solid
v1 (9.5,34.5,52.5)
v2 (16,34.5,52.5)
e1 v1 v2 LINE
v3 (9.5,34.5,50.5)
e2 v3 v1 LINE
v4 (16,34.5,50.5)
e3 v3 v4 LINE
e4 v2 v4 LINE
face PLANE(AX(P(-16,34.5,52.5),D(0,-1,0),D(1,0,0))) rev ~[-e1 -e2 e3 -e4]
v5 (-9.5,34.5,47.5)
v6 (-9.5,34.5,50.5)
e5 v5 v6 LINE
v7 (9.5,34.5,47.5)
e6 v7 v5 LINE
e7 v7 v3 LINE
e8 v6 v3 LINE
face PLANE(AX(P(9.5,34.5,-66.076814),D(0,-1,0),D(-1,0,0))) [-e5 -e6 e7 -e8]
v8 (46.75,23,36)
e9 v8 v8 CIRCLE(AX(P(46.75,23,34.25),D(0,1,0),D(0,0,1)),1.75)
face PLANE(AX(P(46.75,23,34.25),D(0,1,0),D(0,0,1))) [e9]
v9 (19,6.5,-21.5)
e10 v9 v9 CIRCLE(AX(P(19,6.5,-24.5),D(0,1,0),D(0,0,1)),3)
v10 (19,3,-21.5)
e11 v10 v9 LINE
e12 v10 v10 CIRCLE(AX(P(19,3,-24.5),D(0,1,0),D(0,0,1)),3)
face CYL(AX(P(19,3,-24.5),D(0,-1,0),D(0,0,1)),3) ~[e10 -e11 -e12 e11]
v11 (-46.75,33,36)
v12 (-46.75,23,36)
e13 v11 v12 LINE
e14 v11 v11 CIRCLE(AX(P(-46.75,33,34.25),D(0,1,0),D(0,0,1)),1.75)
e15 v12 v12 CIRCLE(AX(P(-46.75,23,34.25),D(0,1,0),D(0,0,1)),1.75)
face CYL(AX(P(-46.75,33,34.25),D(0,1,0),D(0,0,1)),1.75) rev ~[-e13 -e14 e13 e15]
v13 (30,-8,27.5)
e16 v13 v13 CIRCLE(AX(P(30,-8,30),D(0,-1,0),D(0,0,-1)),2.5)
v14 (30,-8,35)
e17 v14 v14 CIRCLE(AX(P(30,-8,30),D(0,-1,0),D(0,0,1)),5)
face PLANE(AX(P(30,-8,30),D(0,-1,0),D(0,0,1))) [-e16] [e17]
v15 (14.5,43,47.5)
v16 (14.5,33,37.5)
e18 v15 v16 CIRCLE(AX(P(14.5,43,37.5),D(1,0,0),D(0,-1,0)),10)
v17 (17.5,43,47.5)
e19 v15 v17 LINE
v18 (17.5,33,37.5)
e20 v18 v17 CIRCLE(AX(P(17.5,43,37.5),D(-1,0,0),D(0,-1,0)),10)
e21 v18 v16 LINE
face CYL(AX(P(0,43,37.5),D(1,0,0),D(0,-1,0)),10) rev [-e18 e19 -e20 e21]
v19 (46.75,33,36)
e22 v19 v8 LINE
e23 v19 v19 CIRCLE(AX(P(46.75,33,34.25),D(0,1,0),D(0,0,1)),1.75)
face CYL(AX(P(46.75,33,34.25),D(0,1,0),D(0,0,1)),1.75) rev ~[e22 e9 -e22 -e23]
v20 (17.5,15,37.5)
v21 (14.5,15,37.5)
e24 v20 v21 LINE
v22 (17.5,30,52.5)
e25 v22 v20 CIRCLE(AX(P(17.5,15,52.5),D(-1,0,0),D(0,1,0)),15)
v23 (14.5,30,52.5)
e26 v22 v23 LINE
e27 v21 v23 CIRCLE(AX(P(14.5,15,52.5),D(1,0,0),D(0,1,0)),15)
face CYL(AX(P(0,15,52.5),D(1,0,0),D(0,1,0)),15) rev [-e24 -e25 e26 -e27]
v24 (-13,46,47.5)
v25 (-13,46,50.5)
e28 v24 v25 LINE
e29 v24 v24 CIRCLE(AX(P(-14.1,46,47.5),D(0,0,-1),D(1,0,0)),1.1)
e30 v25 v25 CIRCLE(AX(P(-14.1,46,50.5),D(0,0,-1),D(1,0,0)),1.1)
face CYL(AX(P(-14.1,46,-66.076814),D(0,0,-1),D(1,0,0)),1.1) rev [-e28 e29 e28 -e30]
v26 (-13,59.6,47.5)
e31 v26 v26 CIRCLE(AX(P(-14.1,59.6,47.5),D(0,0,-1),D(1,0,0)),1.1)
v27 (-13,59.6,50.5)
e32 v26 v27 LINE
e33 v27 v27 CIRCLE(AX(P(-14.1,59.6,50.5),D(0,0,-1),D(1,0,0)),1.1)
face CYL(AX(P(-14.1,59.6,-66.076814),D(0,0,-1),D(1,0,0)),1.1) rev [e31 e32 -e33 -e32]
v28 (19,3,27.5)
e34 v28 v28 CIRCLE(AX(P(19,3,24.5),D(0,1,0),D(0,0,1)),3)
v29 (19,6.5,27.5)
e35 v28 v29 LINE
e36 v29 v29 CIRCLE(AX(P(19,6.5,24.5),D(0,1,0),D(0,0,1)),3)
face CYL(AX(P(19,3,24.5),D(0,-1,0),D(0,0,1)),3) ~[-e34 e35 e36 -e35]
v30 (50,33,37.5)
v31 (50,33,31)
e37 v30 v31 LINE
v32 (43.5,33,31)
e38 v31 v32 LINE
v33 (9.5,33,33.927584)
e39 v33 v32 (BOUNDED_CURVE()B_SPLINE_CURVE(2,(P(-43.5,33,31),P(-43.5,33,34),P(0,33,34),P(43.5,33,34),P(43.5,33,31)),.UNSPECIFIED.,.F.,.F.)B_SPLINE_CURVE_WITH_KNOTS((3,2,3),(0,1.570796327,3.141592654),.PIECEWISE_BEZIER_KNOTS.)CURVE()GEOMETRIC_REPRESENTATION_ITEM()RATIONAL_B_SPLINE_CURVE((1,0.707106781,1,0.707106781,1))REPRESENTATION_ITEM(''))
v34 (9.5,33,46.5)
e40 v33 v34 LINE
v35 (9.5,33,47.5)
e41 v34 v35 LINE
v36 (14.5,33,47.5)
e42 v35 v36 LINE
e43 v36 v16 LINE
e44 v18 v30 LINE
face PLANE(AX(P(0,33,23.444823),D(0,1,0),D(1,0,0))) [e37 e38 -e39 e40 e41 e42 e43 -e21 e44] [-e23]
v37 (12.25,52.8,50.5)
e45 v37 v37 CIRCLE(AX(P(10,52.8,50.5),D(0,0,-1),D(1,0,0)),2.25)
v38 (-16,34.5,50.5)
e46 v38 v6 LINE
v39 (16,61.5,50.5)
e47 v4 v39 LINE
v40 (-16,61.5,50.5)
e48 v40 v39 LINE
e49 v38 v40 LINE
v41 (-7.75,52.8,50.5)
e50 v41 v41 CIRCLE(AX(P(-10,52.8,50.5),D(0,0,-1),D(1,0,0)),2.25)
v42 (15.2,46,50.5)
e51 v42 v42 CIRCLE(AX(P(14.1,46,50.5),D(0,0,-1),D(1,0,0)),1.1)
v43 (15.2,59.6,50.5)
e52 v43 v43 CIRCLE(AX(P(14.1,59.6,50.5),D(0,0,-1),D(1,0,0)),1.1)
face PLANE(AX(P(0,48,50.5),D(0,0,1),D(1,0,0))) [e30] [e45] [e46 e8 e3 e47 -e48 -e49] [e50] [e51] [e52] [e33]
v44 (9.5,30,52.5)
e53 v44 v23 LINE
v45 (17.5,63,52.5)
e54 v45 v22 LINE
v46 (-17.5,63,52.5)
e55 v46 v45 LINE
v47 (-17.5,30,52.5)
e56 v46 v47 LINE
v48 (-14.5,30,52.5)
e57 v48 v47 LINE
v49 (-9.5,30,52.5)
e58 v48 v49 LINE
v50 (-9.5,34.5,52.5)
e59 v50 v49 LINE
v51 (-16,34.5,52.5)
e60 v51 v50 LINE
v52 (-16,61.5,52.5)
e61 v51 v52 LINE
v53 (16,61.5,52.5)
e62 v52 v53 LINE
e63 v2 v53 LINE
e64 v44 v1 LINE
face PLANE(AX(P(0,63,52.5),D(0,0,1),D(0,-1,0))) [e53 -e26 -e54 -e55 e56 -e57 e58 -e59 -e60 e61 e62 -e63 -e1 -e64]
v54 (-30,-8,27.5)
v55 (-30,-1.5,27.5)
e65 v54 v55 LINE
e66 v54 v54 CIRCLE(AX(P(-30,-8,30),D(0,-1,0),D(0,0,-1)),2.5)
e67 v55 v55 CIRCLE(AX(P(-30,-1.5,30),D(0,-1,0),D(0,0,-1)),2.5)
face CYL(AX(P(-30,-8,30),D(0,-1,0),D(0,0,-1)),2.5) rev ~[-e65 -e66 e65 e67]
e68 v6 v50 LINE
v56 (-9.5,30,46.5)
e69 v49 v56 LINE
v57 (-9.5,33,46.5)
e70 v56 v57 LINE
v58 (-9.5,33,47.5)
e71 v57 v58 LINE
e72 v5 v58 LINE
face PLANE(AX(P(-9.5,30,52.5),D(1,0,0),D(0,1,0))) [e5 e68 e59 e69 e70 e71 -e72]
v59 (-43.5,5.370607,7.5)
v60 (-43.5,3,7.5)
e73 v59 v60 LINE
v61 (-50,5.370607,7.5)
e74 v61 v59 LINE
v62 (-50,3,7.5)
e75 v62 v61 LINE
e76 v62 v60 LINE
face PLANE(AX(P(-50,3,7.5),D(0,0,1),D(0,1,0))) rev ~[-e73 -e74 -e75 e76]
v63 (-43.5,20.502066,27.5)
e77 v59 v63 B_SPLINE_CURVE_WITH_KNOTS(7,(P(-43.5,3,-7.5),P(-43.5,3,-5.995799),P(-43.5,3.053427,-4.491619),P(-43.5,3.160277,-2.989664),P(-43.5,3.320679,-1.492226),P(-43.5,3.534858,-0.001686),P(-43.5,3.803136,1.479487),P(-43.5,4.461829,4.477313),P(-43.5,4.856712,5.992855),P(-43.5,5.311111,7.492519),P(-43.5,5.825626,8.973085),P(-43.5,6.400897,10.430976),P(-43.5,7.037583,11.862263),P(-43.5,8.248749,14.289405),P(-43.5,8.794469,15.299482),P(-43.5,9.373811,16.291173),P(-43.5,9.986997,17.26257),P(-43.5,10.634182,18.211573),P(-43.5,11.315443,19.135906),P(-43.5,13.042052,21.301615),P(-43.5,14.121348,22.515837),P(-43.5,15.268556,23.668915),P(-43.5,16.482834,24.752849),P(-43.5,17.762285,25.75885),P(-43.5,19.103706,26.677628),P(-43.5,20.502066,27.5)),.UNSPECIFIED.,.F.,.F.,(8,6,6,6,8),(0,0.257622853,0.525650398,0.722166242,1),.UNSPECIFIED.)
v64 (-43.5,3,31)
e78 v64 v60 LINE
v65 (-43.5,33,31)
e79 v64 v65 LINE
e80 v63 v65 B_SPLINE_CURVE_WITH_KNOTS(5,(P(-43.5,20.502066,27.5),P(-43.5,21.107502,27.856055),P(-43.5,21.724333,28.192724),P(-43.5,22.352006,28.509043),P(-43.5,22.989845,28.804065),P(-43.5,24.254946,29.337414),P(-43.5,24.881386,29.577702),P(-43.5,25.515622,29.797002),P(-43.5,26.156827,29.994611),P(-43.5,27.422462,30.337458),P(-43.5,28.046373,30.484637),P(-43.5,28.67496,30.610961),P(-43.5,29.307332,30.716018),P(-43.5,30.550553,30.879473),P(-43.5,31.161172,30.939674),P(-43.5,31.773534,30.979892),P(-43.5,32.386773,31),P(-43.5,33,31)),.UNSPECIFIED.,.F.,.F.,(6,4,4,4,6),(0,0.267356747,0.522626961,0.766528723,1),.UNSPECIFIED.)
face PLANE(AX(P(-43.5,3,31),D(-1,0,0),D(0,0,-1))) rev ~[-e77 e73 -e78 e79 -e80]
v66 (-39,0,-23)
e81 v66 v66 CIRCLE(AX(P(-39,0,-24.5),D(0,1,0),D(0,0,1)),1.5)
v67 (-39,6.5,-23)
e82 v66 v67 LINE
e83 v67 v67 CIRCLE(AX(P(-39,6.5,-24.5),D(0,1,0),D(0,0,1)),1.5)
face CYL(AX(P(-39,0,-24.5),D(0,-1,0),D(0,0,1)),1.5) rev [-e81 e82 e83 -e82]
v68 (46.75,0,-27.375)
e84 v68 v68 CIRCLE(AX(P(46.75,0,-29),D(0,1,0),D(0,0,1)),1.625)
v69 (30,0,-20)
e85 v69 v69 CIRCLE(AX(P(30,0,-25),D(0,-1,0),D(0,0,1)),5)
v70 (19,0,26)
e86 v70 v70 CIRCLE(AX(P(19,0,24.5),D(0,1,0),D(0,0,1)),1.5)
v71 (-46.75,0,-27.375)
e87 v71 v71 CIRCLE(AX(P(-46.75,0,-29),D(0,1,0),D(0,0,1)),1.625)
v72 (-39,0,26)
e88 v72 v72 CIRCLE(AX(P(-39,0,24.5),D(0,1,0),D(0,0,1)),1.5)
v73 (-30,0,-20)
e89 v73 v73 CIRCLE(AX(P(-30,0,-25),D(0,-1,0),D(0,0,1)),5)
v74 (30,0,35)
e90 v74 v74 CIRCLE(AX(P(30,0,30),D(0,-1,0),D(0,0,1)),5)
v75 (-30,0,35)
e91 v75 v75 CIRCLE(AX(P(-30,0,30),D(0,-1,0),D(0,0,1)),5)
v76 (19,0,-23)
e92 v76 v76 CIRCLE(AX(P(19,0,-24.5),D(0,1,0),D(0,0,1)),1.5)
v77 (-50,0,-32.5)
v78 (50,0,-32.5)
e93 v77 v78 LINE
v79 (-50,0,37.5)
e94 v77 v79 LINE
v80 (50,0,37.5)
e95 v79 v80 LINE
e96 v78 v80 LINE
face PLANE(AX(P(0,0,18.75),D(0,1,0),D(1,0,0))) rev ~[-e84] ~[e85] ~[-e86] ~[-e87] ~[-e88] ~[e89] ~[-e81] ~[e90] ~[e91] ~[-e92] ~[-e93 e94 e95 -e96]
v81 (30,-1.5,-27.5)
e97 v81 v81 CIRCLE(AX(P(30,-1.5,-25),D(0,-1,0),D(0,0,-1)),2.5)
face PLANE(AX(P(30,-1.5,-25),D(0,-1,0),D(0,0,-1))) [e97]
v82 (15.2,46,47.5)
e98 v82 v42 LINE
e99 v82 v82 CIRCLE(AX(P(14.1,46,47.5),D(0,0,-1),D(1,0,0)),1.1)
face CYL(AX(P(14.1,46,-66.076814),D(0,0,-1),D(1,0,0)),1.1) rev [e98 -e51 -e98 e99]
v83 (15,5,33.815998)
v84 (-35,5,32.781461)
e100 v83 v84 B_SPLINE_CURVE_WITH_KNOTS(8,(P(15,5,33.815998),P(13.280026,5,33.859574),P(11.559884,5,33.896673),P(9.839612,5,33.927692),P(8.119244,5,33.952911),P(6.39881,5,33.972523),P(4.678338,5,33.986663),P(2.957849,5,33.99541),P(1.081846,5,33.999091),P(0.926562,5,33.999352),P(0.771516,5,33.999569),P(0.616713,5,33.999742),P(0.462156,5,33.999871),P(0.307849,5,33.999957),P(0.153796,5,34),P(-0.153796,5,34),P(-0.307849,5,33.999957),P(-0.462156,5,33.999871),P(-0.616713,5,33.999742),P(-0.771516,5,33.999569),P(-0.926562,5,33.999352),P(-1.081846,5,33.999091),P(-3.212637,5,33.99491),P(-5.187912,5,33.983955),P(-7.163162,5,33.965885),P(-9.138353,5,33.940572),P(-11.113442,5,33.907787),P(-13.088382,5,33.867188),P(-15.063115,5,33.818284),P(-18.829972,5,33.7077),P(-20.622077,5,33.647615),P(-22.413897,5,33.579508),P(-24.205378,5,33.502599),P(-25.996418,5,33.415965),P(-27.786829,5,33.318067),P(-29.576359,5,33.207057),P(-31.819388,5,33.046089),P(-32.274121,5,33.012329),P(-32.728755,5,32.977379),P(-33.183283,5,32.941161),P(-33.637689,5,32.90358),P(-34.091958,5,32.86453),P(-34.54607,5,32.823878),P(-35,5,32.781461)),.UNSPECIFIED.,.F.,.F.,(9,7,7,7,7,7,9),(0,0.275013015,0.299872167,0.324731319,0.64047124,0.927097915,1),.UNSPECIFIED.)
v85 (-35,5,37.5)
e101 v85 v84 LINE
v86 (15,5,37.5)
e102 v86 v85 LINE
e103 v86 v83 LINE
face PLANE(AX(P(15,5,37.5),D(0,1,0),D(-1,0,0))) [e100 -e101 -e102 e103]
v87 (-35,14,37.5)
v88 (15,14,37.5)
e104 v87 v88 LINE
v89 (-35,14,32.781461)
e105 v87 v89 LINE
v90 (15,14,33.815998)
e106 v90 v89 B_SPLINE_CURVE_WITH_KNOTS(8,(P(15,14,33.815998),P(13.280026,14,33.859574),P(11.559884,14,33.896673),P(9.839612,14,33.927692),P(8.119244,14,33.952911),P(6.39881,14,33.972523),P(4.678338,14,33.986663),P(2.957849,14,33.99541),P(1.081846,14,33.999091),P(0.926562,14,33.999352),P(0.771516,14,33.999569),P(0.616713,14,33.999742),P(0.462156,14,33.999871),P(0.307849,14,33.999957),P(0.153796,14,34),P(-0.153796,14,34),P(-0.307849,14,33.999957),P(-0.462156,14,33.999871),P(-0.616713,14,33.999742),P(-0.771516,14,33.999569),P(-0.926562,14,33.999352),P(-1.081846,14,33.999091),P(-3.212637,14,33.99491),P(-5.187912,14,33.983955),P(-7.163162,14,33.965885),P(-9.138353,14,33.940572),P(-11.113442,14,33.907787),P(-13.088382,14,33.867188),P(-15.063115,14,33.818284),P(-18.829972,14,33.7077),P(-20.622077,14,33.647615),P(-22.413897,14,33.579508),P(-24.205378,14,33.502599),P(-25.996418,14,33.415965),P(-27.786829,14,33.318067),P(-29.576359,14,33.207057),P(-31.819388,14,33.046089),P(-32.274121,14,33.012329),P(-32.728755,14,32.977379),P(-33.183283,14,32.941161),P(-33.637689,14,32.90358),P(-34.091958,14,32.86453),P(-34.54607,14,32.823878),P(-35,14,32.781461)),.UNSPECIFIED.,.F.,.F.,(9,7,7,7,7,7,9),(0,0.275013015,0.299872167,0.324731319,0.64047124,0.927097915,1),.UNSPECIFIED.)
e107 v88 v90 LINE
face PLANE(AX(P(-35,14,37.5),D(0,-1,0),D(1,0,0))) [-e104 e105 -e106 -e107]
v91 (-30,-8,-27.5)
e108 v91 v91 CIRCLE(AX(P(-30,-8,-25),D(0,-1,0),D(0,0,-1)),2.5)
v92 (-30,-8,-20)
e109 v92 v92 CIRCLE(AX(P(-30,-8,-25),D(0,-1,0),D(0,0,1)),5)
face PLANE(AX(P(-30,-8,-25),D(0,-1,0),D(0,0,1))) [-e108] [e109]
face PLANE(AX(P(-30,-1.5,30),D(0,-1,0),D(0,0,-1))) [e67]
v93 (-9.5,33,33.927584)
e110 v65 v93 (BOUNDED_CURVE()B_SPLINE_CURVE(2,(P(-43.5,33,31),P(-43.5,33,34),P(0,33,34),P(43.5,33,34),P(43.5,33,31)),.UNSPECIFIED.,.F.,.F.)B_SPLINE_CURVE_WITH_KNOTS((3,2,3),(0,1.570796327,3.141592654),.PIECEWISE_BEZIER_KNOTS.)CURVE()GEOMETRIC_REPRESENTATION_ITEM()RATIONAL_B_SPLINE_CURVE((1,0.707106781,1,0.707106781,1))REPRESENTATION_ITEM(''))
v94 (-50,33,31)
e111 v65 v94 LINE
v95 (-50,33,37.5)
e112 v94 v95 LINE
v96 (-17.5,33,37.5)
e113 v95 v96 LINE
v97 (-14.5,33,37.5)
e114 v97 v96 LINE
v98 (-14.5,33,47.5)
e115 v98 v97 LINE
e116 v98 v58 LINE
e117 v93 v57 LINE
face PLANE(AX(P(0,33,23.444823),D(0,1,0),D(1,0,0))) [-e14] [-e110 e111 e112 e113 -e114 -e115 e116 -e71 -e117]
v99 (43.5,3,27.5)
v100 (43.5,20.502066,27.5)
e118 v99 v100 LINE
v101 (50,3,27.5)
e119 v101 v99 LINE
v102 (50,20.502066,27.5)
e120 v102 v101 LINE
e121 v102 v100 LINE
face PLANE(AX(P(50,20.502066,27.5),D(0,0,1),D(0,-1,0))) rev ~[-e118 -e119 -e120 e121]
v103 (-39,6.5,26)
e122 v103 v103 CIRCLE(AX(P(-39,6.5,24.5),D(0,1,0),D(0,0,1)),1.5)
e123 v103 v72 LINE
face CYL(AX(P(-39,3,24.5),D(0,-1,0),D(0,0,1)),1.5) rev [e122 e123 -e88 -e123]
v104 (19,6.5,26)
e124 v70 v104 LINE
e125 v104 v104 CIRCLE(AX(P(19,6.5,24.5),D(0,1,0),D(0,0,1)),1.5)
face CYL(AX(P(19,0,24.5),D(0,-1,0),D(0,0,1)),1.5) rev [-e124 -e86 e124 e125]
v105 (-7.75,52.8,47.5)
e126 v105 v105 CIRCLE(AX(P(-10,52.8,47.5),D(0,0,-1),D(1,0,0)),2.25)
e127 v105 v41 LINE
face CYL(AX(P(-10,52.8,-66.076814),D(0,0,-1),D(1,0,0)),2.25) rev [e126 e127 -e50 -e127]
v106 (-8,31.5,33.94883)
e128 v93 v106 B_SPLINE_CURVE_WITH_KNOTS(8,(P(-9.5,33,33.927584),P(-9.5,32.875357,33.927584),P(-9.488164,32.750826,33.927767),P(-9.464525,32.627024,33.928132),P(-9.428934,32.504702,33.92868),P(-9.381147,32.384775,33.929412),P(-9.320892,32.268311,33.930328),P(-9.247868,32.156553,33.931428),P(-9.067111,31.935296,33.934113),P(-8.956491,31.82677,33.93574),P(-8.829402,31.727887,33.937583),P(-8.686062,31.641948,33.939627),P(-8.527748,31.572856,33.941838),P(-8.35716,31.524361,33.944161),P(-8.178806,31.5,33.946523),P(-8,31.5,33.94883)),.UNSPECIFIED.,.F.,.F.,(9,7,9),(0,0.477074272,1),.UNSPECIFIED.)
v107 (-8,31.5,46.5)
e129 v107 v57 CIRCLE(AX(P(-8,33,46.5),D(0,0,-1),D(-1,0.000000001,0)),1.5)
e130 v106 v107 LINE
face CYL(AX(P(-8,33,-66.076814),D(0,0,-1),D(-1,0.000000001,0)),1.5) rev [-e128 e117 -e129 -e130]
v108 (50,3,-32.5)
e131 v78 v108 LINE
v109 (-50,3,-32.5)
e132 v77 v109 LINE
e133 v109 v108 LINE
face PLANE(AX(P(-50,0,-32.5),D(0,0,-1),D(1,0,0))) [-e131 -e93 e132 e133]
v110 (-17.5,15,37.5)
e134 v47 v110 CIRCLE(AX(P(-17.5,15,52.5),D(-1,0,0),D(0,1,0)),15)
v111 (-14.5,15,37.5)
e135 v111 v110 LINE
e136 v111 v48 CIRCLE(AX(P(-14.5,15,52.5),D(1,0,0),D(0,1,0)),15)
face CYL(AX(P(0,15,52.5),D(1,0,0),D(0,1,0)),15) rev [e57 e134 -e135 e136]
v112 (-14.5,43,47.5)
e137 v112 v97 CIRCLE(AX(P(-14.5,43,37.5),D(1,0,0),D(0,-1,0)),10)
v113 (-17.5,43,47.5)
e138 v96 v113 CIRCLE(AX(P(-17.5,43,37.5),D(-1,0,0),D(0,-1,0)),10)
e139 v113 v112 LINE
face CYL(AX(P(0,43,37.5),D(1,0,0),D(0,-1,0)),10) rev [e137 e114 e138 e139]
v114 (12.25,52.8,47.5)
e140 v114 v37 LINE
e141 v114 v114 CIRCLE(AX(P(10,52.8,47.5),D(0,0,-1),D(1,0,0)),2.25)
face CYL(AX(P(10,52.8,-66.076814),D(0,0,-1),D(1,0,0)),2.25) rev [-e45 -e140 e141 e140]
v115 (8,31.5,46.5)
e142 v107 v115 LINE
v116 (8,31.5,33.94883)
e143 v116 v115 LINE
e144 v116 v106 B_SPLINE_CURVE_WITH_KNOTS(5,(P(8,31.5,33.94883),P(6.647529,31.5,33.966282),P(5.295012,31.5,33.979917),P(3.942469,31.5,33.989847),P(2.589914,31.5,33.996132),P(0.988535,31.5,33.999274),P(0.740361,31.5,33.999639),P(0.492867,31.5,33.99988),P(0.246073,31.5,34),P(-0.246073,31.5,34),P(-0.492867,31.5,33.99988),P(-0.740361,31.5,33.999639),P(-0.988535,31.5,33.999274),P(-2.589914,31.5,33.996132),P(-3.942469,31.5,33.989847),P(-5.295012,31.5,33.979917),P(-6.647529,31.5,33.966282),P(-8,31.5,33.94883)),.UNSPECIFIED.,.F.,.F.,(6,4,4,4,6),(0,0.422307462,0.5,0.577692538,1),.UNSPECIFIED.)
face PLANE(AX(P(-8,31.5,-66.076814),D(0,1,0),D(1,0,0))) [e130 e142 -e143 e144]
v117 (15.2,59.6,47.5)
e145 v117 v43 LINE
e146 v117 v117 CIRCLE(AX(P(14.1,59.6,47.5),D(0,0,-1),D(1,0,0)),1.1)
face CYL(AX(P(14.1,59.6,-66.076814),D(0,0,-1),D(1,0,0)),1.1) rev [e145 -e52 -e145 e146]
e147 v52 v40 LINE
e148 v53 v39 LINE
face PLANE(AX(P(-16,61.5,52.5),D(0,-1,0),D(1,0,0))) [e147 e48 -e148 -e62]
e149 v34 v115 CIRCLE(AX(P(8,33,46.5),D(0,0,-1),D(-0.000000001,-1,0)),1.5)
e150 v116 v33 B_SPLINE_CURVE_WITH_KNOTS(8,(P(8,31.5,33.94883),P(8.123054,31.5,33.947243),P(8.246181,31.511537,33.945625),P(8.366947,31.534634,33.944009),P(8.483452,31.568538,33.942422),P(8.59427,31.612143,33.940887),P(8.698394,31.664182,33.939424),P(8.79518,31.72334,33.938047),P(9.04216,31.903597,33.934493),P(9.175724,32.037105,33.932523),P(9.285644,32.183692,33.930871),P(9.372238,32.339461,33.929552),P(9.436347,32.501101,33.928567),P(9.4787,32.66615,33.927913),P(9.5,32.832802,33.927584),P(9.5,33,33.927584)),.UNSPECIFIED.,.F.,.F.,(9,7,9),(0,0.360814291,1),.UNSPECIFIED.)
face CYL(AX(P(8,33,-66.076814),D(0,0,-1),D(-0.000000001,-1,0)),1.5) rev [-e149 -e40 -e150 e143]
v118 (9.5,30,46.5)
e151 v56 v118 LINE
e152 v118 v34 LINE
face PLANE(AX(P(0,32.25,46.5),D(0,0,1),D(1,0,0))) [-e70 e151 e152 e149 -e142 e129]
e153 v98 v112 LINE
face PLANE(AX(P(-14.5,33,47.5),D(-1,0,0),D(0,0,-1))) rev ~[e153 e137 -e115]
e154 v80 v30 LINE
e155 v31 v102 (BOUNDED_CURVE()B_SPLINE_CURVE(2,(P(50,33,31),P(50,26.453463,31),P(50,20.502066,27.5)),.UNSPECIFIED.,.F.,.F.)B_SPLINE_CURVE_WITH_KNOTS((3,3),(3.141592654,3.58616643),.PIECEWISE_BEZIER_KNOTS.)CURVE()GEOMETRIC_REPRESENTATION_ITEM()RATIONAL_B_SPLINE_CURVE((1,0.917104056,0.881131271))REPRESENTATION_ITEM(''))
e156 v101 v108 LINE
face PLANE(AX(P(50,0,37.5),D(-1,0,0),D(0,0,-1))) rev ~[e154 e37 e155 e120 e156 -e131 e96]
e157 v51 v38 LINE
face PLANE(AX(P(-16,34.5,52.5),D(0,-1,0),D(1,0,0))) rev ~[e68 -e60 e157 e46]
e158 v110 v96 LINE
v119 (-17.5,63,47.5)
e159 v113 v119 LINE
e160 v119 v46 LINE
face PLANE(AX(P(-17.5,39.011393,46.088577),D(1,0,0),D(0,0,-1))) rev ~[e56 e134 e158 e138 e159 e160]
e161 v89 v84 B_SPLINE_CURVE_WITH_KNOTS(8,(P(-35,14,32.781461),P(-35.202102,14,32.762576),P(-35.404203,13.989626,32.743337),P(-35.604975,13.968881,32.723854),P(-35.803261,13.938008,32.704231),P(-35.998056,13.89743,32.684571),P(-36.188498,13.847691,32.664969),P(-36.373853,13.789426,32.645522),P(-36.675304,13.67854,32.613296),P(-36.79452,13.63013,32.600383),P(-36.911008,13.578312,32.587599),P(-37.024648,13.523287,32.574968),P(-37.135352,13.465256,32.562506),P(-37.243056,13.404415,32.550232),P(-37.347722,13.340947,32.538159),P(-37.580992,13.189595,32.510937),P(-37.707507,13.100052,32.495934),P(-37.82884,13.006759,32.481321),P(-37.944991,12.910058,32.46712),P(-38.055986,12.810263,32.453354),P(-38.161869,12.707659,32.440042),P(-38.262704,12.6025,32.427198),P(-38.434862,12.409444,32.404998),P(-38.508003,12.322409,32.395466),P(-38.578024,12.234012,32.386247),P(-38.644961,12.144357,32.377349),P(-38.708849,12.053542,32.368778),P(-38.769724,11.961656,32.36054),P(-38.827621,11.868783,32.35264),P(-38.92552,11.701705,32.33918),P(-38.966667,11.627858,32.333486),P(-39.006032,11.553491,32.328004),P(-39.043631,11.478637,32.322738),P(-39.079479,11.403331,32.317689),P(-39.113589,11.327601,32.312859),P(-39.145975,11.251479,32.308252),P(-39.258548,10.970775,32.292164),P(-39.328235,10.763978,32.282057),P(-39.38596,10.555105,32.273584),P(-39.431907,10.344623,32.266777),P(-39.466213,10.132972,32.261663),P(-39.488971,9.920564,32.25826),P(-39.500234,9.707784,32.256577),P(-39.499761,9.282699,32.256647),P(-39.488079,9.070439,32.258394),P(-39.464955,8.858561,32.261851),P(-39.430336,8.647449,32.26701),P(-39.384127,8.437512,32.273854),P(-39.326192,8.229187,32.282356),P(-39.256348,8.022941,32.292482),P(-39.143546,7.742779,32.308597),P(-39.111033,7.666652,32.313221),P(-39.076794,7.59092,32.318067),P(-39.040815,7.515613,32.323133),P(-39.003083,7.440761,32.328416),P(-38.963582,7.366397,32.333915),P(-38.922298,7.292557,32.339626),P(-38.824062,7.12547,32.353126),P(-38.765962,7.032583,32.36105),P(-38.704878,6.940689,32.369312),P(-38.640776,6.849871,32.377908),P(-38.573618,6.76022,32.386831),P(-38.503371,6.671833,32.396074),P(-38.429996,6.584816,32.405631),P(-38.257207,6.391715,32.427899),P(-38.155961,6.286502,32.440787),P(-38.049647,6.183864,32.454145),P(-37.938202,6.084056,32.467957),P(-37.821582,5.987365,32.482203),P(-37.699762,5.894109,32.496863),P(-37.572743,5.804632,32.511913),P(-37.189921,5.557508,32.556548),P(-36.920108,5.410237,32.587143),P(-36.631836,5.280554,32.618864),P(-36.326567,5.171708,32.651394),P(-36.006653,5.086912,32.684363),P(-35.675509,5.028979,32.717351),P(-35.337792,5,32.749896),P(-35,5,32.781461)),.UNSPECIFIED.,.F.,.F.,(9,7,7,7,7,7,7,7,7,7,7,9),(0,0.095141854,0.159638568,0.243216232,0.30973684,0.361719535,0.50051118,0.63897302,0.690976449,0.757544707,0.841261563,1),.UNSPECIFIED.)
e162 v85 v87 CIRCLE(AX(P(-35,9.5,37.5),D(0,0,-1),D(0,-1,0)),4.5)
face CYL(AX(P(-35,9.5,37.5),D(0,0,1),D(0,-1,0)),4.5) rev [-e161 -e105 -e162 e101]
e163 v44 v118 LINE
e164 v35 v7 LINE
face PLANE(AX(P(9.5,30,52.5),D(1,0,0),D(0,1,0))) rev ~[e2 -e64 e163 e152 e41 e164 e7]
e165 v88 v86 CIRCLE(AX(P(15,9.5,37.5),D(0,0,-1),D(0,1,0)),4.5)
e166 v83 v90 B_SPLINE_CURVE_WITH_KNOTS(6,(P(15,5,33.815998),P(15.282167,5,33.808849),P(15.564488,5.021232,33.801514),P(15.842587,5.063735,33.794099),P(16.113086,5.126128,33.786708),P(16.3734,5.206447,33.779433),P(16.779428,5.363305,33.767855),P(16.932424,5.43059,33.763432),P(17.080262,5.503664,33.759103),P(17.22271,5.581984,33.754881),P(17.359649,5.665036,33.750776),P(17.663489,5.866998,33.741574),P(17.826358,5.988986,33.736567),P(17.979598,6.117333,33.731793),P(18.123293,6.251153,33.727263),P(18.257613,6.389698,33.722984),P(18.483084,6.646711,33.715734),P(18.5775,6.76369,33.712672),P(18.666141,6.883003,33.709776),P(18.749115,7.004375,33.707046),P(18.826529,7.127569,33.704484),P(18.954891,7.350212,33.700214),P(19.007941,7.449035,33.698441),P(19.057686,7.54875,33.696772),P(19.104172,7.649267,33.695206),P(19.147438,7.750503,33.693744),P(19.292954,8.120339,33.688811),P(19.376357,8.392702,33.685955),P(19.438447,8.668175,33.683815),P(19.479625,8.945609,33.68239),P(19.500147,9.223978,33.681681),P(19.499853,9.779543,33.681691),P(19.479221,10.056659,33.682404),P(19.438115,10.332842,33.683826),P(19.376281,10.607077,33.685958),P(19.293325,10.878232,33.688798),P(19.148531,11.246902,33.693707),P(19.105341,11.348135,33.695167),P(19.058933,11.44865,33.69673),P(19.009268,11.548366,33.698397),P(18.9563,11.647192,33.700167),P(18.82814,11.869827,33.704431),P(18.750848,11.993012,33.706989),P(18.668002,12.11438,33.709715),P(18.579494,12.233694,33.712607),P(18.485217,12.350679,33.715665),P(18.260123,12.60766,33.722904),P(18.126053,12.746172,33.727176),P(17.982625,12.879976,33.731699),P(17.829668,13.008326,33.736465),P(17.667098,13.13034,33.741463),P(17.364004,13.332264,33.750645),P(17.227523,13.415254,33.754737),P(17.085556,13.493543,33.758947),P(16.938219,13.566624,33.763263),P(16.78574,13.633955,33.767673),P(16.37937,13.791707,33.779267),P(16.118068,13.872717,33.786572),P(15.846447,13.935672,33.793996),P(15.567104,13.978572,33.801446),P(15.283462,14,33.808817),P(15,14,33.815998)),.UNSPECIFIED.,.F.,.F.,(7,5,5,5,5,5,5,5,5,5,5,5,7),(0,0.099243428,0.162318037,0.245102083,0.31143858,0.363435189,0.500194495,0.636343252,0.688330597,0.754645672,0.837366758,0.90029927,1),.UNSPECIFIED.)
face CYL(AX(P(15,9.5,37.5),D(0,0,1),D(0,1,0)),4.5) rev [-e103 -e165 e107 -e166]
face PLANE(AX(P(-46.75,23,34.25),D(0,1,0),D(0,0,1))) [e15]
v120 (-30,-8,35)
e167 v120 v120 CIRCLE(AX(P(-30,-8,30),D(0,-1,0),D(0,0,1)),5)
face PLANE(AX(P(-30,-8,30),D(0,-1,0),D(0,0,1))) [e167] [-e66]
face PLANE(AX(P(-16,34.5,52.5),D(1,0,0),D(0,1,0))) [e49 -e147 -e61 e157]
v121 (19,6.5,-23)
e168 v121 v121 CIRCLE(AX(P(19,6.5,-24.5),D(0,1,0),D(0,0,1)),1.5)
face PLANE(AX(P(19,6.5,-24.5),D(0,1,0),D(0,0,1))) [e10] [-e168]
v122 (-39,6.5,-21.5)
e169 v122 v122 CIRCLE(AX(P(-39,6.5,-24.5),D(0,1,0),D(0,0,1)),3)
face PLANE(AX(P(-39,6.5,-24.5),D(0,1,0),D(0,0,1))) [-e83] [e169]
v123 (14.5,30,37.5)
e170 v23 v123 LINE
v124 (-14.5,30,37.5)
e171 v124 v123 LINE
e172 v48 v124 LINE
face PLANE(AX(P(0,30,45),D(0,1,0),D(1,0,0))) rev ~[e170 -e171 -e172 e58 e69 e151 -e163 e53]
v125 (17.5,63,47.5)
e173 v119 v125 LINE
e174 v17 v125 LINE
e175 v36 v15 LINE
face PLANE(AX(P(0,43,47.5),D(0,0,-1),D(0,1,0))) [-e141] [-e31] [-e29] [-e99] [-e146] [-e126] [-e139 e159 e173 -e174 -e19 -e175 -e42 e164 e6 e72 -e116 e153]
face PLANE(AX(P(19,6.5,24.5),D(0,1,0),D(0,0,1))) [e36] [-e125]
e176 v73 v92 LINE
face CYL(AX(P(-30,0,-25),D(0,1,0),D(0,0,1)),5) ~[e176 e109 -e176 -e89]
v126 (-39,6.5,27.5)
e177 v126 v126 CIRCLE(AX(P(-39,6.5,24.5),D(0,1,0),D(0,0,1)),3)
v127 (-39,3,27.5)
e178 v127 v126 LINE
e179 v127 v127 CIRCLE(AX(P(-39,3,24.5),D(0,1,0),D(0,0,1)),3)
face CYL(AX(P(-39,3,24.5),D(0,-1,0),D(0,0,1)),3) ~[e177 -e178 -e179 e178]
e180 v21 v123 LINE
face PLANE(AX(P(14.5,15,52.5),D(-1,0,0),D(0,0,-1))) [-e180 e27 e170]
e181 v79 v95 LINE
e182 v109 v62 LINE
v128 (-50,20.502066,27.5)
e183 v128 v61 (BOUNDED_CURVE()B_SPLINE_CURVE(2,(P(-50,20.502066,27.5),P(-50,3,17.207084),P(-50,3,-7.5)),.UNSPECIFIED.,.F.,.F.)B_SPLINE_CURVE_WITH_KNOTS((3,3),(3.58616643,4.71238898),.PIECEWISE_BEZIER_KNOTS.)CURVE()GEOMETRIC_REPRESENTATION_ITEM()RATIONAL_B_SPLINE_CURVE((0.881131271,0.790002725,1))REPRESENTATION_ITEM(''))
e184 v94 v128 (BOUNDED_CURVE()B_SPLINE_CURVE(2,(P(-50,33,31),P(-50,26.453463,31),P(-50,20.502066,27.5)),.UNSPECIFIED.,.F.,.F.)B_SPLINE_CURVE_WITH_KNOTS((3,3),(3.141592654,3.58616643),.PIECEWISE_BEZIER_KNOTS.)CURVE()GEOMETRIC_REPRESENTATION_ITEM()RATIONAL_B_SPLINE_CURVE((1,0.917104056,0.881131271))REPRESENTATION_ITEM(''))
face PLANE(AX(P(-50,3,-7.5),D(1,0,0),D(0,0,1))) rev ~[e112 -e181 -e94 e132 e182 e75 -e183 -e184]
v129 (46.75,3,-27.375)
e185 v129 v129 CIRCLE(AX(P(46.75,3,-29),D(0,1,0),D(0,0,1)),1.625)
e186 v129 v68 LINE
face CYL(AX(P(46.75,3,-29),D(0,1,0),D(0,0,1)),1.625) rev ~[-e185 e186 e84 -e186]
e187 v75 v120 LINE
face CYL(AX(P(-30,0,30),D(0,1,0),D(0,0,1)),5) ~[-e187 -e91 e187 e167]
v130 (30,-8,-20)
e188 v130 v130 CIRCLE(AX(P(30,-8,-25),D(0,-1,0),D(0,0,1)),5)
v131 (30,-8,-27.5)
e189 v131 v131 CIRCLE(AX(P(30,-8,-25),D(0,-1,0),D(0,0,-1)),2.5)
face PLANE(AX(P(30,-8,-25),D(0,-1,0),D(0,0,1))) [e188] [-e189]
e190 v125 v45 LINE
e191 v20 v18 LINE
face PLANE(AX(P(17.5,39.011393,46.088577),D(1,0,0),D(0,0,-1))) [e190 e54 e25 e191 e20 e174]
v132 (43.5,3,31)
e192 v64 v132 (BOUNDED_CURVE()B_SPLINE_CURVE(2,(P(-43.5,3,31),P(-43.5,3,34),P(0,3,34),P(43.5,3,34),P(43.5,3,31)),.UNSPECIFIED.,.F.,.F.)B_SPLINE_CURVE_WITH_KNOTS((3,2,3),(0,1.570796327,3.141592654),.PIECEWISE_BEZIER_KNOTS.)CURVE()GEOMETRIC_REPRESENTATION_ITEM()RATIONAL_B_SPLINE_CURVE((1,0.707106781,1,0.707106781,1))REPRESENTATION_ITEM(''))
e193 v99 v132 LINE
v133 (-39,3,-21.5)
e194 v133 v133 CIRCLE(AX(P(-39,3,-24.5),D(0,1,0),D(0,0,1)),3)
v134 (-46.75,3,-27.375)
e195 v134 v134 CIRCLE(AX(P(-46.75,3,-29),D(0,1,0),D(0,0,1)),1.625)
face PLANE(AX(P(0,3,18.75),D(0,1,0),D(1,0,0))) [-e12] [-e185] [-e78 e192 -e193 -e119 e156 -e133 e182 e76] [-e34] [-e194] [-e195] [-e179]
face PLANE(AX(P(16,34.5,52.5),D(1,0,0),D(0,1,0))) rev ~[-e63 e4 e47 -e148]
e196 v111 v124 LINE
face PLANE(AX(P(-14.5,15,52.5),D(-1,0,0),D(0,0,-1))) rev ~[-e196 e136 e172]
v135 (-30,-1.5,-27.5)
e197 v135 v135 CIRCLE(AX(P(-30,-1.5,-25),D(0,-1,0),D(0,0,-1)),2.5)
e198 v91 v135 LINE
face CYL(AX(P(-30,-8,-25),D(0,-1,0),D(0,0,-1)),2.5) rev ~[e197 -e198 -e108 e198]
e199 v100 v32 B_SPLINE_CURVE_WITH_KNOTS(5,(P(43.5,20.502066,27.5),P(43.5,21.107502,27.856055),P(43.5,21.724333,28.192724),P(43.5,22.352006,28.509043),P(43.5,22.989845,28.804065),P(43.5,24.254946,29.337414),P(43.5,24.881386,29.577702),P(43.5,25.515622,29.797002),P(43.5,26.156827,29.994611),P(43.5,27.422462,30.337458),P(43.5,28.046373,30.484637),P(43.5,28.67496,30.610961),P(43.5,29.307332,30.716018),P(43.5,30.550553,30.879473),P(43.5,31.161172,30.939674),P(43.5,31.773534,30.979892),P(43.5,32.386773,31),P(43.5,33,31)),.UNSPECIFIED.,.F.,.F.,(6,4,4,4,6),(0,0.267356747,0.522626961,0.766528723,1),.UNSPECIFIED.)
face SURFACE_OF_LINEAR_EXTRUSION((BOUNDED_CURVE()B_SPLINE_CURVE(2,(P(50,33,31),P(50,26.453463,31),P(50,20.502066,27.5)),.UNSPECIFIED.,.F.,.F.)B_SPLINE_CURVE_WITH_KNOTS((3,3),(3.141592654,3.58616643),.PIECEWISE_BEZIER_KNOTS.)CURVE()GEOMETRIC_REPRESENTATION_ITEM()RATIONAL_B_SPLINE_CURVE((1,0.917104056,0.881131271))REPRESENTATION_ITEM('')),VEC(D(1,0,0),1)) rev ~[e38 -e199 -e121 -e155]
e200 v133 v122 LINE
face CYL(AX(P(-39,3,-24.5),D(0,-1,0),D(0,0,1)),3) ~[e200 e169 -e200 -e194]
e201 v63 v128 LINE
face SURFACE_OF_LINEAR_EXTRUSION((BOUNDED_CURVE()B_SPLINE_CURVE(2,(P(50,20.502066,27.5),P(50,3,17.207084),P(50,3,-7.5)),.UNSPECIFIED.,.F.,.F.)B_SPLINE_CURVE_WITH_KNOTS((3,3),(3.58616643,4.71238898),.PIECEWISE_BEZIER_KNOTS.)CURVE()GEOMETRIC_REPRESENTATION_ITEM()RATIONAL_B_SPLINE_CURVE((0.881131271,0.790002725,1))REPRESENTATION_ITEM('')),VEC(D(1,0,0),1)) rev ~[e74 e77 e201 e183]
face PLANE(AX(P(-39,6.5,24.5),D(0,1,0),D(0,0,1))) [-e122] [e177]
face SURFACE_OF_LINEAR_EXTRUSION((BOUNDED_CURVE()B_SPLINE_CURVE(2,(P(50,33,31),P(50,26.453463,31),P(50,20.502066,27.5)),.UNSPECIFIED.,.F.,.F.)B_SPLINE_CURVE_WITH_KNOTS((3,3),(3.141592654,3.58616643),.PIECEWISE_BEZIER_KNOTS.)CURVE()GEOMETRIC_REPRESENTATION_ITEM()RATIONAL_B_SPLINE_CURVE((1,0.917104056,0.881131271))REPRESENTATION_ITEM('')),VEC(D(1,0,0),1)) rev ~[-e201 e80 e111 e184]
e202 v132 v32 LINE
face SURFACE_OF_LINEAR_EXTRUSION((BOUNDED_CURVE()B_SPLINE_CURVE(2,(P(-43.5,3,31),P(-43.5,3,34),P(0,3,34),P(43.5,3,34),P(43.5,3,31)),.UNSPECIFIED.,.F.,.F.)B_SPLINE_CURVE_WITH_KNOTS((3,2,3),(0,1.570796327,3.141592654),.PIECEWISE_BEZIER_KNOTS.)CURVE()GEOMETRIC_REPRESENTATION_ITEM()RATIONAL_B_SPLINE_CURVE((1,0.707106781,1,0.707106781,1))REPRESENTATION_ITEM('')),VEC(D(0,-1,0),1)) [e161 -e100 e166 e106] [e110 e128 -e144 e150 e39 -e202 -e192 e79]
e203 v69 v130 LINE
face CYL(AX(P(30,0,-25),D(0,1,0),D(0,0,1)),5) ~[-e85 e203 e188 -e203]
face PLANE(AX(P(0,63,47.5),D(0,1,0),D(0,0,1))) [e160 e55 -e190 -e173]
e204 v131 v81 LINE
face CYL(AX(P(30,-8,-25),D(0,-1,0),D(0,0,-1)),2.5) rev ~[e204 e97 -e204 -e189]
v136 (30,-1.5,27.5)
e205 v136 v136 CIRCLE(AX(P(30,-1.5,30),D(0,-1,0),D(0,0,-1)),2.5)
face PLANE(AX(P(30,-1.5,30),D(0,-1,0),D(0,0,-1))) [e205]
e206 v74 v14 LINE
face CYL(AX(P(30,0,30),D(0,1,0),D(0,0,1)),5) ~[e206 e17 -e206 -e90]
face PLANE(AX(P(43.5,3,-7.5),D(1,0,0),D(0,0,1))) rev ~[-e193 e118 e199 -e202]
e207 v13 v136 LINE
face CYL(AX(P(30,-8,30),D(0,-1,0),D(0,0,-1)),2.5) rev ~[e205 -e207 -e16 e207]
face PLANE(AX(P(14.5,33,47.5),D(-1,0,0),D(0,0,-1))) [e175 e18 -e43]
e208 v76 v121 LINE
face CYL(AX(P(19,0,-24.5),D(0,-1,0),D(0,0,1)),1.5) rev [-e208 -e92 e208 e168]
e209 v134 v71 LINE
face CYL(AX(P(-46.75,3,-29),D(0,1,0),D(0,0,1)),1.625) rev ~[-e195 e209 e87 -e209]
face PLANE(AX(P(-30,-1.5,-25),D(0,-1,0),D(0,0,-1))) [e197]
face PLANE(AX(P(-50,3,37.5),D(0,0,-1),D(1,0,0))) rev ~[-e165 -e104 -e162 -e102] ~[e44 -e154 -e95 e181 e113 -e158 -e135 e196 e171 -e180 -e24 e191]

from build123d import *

# Parameters (mm, degrees)
SKETCH1_W                      = 100
SKETCH1_H                      = 32.5
SKETCH1_R                      = 1.5
SKETCH1_H_2                    = 37.5
BOSS_EXTRUDE1_DEPTH            = 3
BOSS_EXTRUDE2_DEPTH            = 30
CUT_EXTRUDE1_REACH             = 113.782
CUT_EXTRUDE1_DIRECTION_2_DEPTH = 112.782154211
CUT_EXTRUDE2_DEPTH             = 100
CUT_EXTRUDE3_REACH             = 94.136
SKETCH6_R                      = 1.75
CUT_EXTRUDE4_DEPTH             = 10
CUT_EXTRUDE5_START             = -30
CUT_EXTRUDE5_DEPTH             = 30
SKETCH9_R                      = 5
BOSS_EXTRUDE3_DEPTH            = 8
SKETCH10_R                     = 2.5
CUT_EXTRUDE6_DEPTH             = 6.5
SKETCH11_R                     = 1.625
CUT_EXTRUDE7_DEPTH             = 70.327123289
SKETCH19_R                     = 3
SKETCH19_R_2                   = 1.5
BOSS_EXTRUDE5_DEPTH            = 3.5
CUT_EXTRUDE12_REACH            = 113.782
BOSS_EXTRUDE4_DEPTH            = 17.5
CUT_EXTRUDE8_START             = -18
SKETCH13_W                     = 29
SKETCH13_H                     = 15
CUT_EXTRUDE8_DEPTH             = 15
SKETCH16_W                     = 32
SKETCH16_H                     = 27
CUT_EXTRUDE9_DEPTH             = 2
SKETCH17_W                     = 29
SKETCH17_H                     = 10
CUT_EXTRUDE10_DEPTH            = 10
CUT_EXTRUDE11_DEPTH            = 116.576814399
CUT_EXTRUDE11_DEPTH_BACK       = 116.576814399
SKETCH18_R                     = 1.1
SKETCH18_R_2                   = 2.25
SKETCH21_W                     = 19
SKETCH21_H                     = 4.5
CUT_EXTRUDE13_DEPTH            = 6


with BuildPart() as part:
    # Sketch1 → Boss-Extrude1 (new body)
    # profile 1 of 2: a face of its own
    with BuildSketch(Plane(origin=(0, 0, 0), x_dir=(1, 0, 0), z_dir=(0, 1, 0))):
        with Locations((0, 16.25)):
            Rectangle(SKETCH1_W, SKETCH1_H)
        with Locations(Location((-39, 24.5, 0), (0, 0, 270))):
            Circle(SKETCH1_R, mode=Mode.SUBTRACT)
        with Locations(Location((19, 24.5, 0), (0, 0, 270))):
            Circle(SKETCH1_R, mode=Mode.SUBTRACT)
    # profile 2 of 2: a face of its own
    with BuildSketch(Plane(origin=(0, 0, 0), x_dir=(1, 0, 0), z_dir=(0, 1, 0))):
        with Locations((0, -18.75)):
            Rectangle(SKETCH1_W, SKETCH1_H_2)
        with Locations(Location((-39, -24.5, 0), (0, 0, 270))):
            Circle(SKETCH1_R, mode=Mode.SUBTRACT)
        with Locations(Location((19, -24.5, 0), (0, 0, 270))):
            Circle(SKETCH1_R, mode=Mode.SUBTRACT)
    extrude(amount=BOSS_EXTRUDE1_DEPTH)

    # Sketch2 → Boss-Extrude2 (add)
    with BuildSketch(Plane(origin=(0, 3, 0), x_dir=(1, 0, 0), z_dir=(0, 1, 0))):
        Polygon((-43.5, 7.5), (-50, 7.5), (-50, -37.5), (50, -37.5), (50, 7.5), (43.5, 7.5), (43.5, -31), (-43.5, -31), align=None)
    extrude(amount=BOSS_EXTRUDE2_DEPTH)

    # Sketch3 → Cut-Extrude1 (cut, up to next)
    with BuildSketch(Plane(origin=(50, 0, 0), x_dir=(0, 0, -1), z_dir=(1, 0, 0)), mode=Mode.PRIVATE) as cut_extrude1_sk1:
        with BuildLine():
            add(Edge.make_bspline(
                [(-31, 33), (-31, 26.453463293), (-27.5, 20.502066286)],
                knots=[3.141592654, 3.141592654, 3.141592654, 3.58616643, 3.58616643, 3.58616643], degree=2, weights=[1, 0.917104056, 0.881131271]))
            Line((-27.5, 20.502066286), (7.5, 20.502066286))
            Line((7.5, 20.502066286), (7.5, 33))
            Line((7.5, 33), (-31, 33))
        make_face()
    cut_extrude1_tool1 = extrude(cut_extrude1_sk1.sketch, amount=-CUT_EXTRUDE1_REACH, mode=Mode.PRIVATE) & part.part
    # Sketch3 → Cut-Extrude1 (cut, up to next)
    with BuildSketch(Plane(origin=(50, 0, 0), x_dir=(0, 0, -1), z_dir=(1, 0, 0)), mode=Mode.PRIVATE) as cut_extrude1_sk2:
        with BuildLine():
            Line((7.5, 20.502066286), (-27.5, 20.502066286))
            add(Edge.make_bspline(
                [(-27.5, 20.502066286), (-17.207083574, 3), (7.5, 3)],
                knots=[3.58616643, 3.58616643, 3.58616643, 4.71238898, 4.71238898, 4.71238898], degree=2, weights=[0.881131271, 0.790002725, 1]))
            Line((7.5, 3), (7.5, 20.502066286))
        make_face()
    cut_extrude1_tool2 = extrude(cut_extrude1_sk2.sketch, amount=-CUT_EXTRUDE1_REACH, mode=Mode.PRIVATE) & part.part
    # Sketch3 → Cut-Extrude1 (cut, up to next)
    with BuildSketch(Plane(origin=(50, 0, 0), x_dir=(0, 0, -1), z_dir=(1, 0, 0)), mode=Mode.PRIVATE) as cut_extrude1_sk3:
        with BuildLine():
            add(Edge.make_bspline(
                [(-27.5, 20.502066286), (-17.207083574, 3), (7.5, 3)],
                knots=[3.58616643, 3.58616643, 3.58616643, 4.71238898, 4.71238898, 4.71238898], degree=2, weights=[0.881131271, 0.790002725, 1]))
            Line((-27.5, 20.502066286), (-27.5, 3))
            Line((-27.5, 3), (7.5, 3))
        make_face()
    cut_extrude1_tool3 = extrude(cut_extrude1_sk3.sketch, amount=-CUT_EXTRUDE1_REACH, mode=Mode.PRIVATE) & part.part
    add(cut_extrude1_tool1.solids().sort_by_distance((50, 26.847661, 11.192073))[0], mode=Mode.SUBTRACT)
    add(cut_extrude1_tool2.solids().sort_by_distance((50, 13.290058, 6.345651))[0], mode=Mode.SUBTRACT)
    add(cut_extrude1_tool3.solids().sort_by_distance((50, 7.818506, 19.337618))[0], mode=Mode.SUBTRACT)

    # Sketch3 → Cut-Extrude1 direction 2 (cut)
    with BuildSketch(Plane(origin=(50, 0, 0), x_dir=(0, 0, -1), z_dir=(1, 0, 0))):
        with BuildLine():
            add(Edge.make_bspline(
                [(-31, 33), (-31, 26.453463293), (-27.5, 20.502066286)],
                knots=[3.141592654, 3.141592654, 3.141592654, 3.58616643, 3.58616643, 3.58616643], degree=2, weights=[1, 0.917104056, 0.881131271]))
            Line((-27.5, 20.502066286), (7.5, 20.502066286))
            Line((7.5, 20.502066286), (7.5, 33))
            Line((7.5, 33), (-31, 33))
        make_face()
        with BuildLine():
            Line((7.5, 20.502066286), (-27.5, 20.502066286))
            add(Edge.make_bspline(
                [(-27.5, 20.502066286), (-17.207083574, 3), (7.5, 3)],
                knots=[3.58616643, 3.58616643, 3.58616643, 4.71238898, 4.71238898, 4.71238898], degree=2, weights=[0.881131271, 0.790002725, 1]))
            Line((7.5, 3), (7.5, 20.502066286))
        make_face()
        with BuildLine():
            add(Edge.make_bspline(
                [(-27.5, 20.502066286), (-17.207083574, 3), (7.5, 3)],
                knots=[3.58616643, 3.58616643, 3.58616643, 4.71238898, 4.71238898, 4.71238898], degree=2, weights=[0.881131271, 0.790002725, 1]))
            Line((-27.5, 20.502066286), (-27.5, 3))
            Line((-27.5, 3), (7.5, 3))
        make_face()
    extrude(amount=CUT_EXTRUDE1_DIRECTION_2_DEPTH, mode=Mode.SUBTRACT)

    # Sketch3<3> → Cut-Extrude2 (cut)
    with BuildSketch(Plane(origin=(50, 0, 0), x_dir=(0, 0, -1), z_dir=(1, 0, 0))):
        with BuildLine():
            add(Edge.make_bspline(
                [(-31, 33), (-31, 26.453463293), (-27.5, 20.502066286)],
                knots=[3.141592654, 3.141592654, 3.141592654, 3.58616643, 3.58616643, 3.58616643], degree=2, weights=[1, 0.917104056, 0.881131271]))
            Line((-27.5, 20.502066286), (7.5, 20.502066286))
            Line((7.5, 20.502066286), (7.5, 33))
            Line((7.5, 33), (-31, 33))
        make_face()
        with BuildLine():
            Line((7.5, 20.502066286), (-27.5, 20.502066286))
            add(Edge.make_bspline(
                [(-27.5, 20.502066286), (-17.207083574, 3), (7.5, 3)],
                knots=[3.58616643, 3.58616643, 3.58616643, 4.71238898, 4.71238898, 4.71238898], degree=2, weights=[0.881131271, 0.790002725, 1]))
            Line((7.5, 3), (7.5, 20.502066286))
        make_face()
    extrude(amount=-CUT_EXTRUDE2_DEPTH, mode=Mode.SUBTRACT)

    # Sketch4 → Cut-Extrude3 (cut, up to next)
    with BuildSketch(Plane.XY.offset(37.5), mode=Mode.PRIVATE) as cut_extrude3_sk1:
        with BuildLine():
            Line((-35, 14), (15, 14))
            ThreePointArc((15, 14), (19.5, 9.5), (15, 5))
            Line((15, 5), (-35, 5))
            ThreePointArc((-35, 5), (-39.5, 9.5), (-35, 14))
        make_face()
    cut_extrude3_tool1 = extrude(cut_extrude3_sk1.sketch, amount=-CUT_EXTRUDE3_REACH, mode=Mode.PRIVATE) & part.part
    add(cut_extrude3_tool1.solids().sort_by_distance((-10, 9.5, 37.5))[0], mode=Mode.SUBTRACT)

    # Sketch6 → Cut-Extrude4 (cut)
    with BuildSketch(Plane(origin=(0, 33, 0), x_dir=(1, 0, 0), z_dir=(0, 1, 0))):
        with Locations(Location((-46.75, -34.25, 0), (0, 0, 270))):
            Circle(SKETCH6_R)
        with Locations(Location((46.75, -34.25, 0), (0, 0, 270))):
            Circle(SKETCH6_R)
    extrude(amount=-CUT_EXTRUDE4_DEPTH, mode=Mode.SUBTRACT)

    # Sketch8 → Cut-Extrude5 (cut)
    with BuildSketch(Plane(origin=(0, 33, 0), x_dir=(1, 0, 0), z_dir=(0, 1, 0)).offset(CUT_EXTRUDE5_START)):
        with BuildLine():
            Line((-43.5, -31), (43.5, -31))
            add(Edge.make_bspline(
                [(-43.5, -31), (-43.5, -34), (0, -34), (43.5, -34), (43.5, -31)],
                knots=[0, 0, 0, 1.570796327, 1.570796327, 3.141592654, 3.141592654, 3.141592654], degree=2, weights=[1, 0.707106781, 1, 0.707106781, 1]))
        make_face()
    extrude(amount=CUT_EXTRUDE5_DEPTH, mode=Mode.SUBTRACT)

    # Sketch9 → Boss-Extrude3 (add)
    with BuildSketch(Plane.XZ):
        with Locations(Location((-30, 30, 0), (0, 0, 90))):
            Circle(SKETCH9_R)
        with Locations(Location((-30, -25, 0), (0, 0, 90))):
            Circle(SKETCH9_R)
        with Locations(Location((30, -25, 0), (0, 0, 90))):
            Circle(SKETCH9_R)
        with Locations(Location((30, 30, 0), (0, 0, 90))):
            Circle(SKETCH9_R)
    extrude(amount=BOSS_EXTRUDE3_DEPTH)

    # Sketch10 → Cut-Extrude6 (cut)
    with BuildSketch(Plane.XZ.offset(8)):
        with Locations(Location((-30, 30, 0), (0, 0, 270))):
            Circle(SKETCH10_R)
        with Locations(Location((-30, -25, 0), (0, 0, 270))):
            Circle(SKETCH10_R)
        with Locations(Location((30, -25, 0), (0, 0, 270))):
            Circle(SKETCH10_R)
        with Locations(Location((30, 30, 0), (0, 0, 270))):
            Circle(SKETCH10_R)
    extrude(amount=-CUT_EXTRUDE6_DEPTH, mode=Mode.SUBTRACT)

    # Sketch11 → Cut-Extrude7 (cut, through all)
    with BuildSketch(Plane(origin=(0, 3, 0), x_dir=(1, 0, 0), z_dir=(0, 1, 0))):
        with Locations(Location((46.75, 29, 0), (0, 0, 270))):
            Circle(SKETCH11_R)
        with Locations(Location((-46.75, 29, 0), (0, 0, 270))):
            Circle(SKETCH11_R)
    extrude(amount=-CUT_EXTRUDE7_DEPTH, mode=Mode.SUBTRACT)

    # Sketch19 → Boss-Extrude5 (add)
    # profile 1 of 4: a face of its own
    with BuildSketch(Plane(origin=(0, 3, 0), x_dir=(1, 0, 0), z_dir=(0, 1, 0))):
        with Locations(Location((-39, -24.5, 0), (0, 0, 270))):
            Circle(SKETCH19_R)
        with Locations(Location((-39, -24.5, 0), (0, 0, 270))):
            Circle(SKETCH19_R_2, mode=Mode.SUBTRACT)
    # profile 2 of 4: a face of its own
    with BuildSketch(Plane(origin=(0, 3, 0), x_dir=(1, 0, 0), z_dir=(0, 1, 0))):
        with Locations(Location((19, -24.5, 0), (0, 0, 270))):
            Circle(SKETCH19_R)
        with Locations(Location((19, -24.5, 0), (0, 0, 270))):
            Circle(SKETCH19_R_2, mode=Mode.SUBTRACT)
    # profile 3 of 4: a face of its own
    with BuildSketch(Plane(origin=(0, 3, 0), x_dir=(1, 0, 0), z_dir=(0, 1, 0))):
        with Locations(Location((19, 24.5, 0), (0, 0, 270))):
            Circle(SKETCH19_R)
        with Locations(Location((19, 24.5, 0), (0, 0, 270))):
            Circle(SKETCH19_R_2, mode=Mode.SUBTRACT)
    # profile 4 of 4: a face of its own
    with BuildSketch(Plane(origin=(0, 3, 0), x_dir=(1, 0, 0), z_dir=(0, 1, 0))):
        with Locations(Location((-39, 24.5, 0), (0, 0, 270))):
            Circle(SKETCH19_R)
        with Locations(Location((-39, 24.5, 0), (0, 0, 270))):
            Circle(SKETCH19_R_2, mode=Mode.SUBTRACT)
    extrude(amount=BOSS_EXTRUDE5_DEPTH)

    # Sketch20 → Cut-Extrude12 (cut, up to next)
    with BuildSketch(Plane.ZY.offset(50), mode=Mode.PRIVATE) as cut_extrude12_sk1:
        with BuildLine():
            add(Edge.make_bspline(
                [(-7.5, 3), (0.308515322, 3), (7.5, 5.370606777)],
                knots=[4.71238898, 4.71238898, 4.71238898, 5.112597496, 5.112597496, 5.112597496], degree=2, weights=[1, 0.98004586, 1]))
            Line((-7.5, 3), (7.5, 3))
            Line((7.5, 3), (7.5, 5.370606777))
        make_face()
    cut_extrude12_tool1 = extrude(cut_extrude12_sk1.sketch, amount=-CUT_EXTRUDE12_REACH, mode=Mode.PRIVATE) & part.part
    add(cut_extrude12_tool1.solids().sort_by_distance((-50, 3.706091, 3.780274))[0], mode=Mode.SUBTRACT)

    # Sketch12 → Boss-Extrude4 (add, symmetric)
    with BuildSketch(Plane(origin=(0, 0, 0), x_dir=(0, 0, -1), z_dir=(1, 0, 0))):
        with BuildLine():
            ThreePointArc((-37.5, 33), (-44.571067812, 35.928932188), (-47.5, 43))
            Line((-47.5, 43), (-47.5, 63))
            Line((-47.5, 63), (-52.5, 63))
            Line((-52.5, 63), (-52.5, 30))
            ThreePointArc((-52.5, 30), (-41.893398282, 25.606601718), (-37.5, 15))
            Line((-37.5, 15), (-37.5, 33))
        make_face()
    extrude(amount=BOSS_EXTRUDE4_DEPTH, both=True)

    # Sketch13 → Cut-Extrude8 (cut)
    with BuildSketch(Plane(origin=(0, 33, 0), x_dir=(1, 0, 0), z_dir=(0, 1, 0)).offset(CUT_EXTRUDE8_START)):
        with Locations((0, -45)):
            Rectangle(SKETCH13_W, SKETCH13_H)
    extrude(amount=CUT_EXTRUDE8_DEPTH, mode=Mode.SUBTRACT)

    # Sketch16 → Cut-Extrude9 (cut)
    with BuildSketch(Plane.XY.offset(52.5)):
        with Locations((0, 48)):
            Rectangle(SKETCH16_W, SKETCH16_H)
    extrude(amount=-CUT_EXTRUDE9_DEPTH, mode=Mode.SUBTRACT)

    # Sketch17 → Cut-Extrude10 (cut)
    with BuildSketch(Plane(origin=(0, 33, 0), x_dir=(1, 0, 0), z_dir=(0, 1, 0))):
        with Locations((0, -42.5)):
            Rectangle(SKETCH17_W, SKETCH17_H)
    extrude(amount=CUT_EXTRUDE10_DEPTH, mode=Mode.SUBTRACT)

    # Sketch18 → Cut-Extrude11 (cut, two sides: drawn at the far end of the back side and taken through both)
    with BuildSketch(Plane.XY.offset(50.5).offset(-CUT_EXTRUDE11_DEPTH_BACK)):
        with BuildLine():
            Line((-9.5, 34.5), (-9.5, 33))
            ThreePointArc((-9.5, 33), (-9.060660172, 31.939339828), (-8, 31.5))
            Line((-8, 31.5), (8, 31.5))
            ThreePointArc((8, 31.5), (9.060660172, 31.939339828), (9.5, 33))
            Line((9.5, 33), (9.5, 34.5))
            Line((9.5, 34.5), (-9.5, 34.5))
        make_face()
        with Locations((14.1, 59.6)):
            Circle(SKETCH18_R)
        with Locations((14.1, 46)):
            Circle(SKETCH18_R)
        with Locations((-14.1, 59.6)):
            Circle(SKETCH18_R)
        with Locations((-14.1, 46)):
            Circle(SKETCH18_R)
        with Locations((-10, 52.8)):
            Circle(SKETCH18_R_2)
        with Locations((10, 52.8)):
            Circle(SKETCH18_R_2)
    extrude(amount=CUT_EXTRUDE11_DEPTH + CUT_EXTRUDE11_DEPTH_BACK, mode=Mode.SUBTRACT)

    # Sketch21 → Cut-Extrude13 (cut)
    with BuildSketch(Plane.XY.offset(52.5)):
        with Locations((0, 32.25)):
            Rectangle(SKETCH21_W, SKETCH21_H)
    extrude(amount=-CUT_EXTRUDE13_DEPTH, mode=Mode.SUBTRACT)


solid = part.part
